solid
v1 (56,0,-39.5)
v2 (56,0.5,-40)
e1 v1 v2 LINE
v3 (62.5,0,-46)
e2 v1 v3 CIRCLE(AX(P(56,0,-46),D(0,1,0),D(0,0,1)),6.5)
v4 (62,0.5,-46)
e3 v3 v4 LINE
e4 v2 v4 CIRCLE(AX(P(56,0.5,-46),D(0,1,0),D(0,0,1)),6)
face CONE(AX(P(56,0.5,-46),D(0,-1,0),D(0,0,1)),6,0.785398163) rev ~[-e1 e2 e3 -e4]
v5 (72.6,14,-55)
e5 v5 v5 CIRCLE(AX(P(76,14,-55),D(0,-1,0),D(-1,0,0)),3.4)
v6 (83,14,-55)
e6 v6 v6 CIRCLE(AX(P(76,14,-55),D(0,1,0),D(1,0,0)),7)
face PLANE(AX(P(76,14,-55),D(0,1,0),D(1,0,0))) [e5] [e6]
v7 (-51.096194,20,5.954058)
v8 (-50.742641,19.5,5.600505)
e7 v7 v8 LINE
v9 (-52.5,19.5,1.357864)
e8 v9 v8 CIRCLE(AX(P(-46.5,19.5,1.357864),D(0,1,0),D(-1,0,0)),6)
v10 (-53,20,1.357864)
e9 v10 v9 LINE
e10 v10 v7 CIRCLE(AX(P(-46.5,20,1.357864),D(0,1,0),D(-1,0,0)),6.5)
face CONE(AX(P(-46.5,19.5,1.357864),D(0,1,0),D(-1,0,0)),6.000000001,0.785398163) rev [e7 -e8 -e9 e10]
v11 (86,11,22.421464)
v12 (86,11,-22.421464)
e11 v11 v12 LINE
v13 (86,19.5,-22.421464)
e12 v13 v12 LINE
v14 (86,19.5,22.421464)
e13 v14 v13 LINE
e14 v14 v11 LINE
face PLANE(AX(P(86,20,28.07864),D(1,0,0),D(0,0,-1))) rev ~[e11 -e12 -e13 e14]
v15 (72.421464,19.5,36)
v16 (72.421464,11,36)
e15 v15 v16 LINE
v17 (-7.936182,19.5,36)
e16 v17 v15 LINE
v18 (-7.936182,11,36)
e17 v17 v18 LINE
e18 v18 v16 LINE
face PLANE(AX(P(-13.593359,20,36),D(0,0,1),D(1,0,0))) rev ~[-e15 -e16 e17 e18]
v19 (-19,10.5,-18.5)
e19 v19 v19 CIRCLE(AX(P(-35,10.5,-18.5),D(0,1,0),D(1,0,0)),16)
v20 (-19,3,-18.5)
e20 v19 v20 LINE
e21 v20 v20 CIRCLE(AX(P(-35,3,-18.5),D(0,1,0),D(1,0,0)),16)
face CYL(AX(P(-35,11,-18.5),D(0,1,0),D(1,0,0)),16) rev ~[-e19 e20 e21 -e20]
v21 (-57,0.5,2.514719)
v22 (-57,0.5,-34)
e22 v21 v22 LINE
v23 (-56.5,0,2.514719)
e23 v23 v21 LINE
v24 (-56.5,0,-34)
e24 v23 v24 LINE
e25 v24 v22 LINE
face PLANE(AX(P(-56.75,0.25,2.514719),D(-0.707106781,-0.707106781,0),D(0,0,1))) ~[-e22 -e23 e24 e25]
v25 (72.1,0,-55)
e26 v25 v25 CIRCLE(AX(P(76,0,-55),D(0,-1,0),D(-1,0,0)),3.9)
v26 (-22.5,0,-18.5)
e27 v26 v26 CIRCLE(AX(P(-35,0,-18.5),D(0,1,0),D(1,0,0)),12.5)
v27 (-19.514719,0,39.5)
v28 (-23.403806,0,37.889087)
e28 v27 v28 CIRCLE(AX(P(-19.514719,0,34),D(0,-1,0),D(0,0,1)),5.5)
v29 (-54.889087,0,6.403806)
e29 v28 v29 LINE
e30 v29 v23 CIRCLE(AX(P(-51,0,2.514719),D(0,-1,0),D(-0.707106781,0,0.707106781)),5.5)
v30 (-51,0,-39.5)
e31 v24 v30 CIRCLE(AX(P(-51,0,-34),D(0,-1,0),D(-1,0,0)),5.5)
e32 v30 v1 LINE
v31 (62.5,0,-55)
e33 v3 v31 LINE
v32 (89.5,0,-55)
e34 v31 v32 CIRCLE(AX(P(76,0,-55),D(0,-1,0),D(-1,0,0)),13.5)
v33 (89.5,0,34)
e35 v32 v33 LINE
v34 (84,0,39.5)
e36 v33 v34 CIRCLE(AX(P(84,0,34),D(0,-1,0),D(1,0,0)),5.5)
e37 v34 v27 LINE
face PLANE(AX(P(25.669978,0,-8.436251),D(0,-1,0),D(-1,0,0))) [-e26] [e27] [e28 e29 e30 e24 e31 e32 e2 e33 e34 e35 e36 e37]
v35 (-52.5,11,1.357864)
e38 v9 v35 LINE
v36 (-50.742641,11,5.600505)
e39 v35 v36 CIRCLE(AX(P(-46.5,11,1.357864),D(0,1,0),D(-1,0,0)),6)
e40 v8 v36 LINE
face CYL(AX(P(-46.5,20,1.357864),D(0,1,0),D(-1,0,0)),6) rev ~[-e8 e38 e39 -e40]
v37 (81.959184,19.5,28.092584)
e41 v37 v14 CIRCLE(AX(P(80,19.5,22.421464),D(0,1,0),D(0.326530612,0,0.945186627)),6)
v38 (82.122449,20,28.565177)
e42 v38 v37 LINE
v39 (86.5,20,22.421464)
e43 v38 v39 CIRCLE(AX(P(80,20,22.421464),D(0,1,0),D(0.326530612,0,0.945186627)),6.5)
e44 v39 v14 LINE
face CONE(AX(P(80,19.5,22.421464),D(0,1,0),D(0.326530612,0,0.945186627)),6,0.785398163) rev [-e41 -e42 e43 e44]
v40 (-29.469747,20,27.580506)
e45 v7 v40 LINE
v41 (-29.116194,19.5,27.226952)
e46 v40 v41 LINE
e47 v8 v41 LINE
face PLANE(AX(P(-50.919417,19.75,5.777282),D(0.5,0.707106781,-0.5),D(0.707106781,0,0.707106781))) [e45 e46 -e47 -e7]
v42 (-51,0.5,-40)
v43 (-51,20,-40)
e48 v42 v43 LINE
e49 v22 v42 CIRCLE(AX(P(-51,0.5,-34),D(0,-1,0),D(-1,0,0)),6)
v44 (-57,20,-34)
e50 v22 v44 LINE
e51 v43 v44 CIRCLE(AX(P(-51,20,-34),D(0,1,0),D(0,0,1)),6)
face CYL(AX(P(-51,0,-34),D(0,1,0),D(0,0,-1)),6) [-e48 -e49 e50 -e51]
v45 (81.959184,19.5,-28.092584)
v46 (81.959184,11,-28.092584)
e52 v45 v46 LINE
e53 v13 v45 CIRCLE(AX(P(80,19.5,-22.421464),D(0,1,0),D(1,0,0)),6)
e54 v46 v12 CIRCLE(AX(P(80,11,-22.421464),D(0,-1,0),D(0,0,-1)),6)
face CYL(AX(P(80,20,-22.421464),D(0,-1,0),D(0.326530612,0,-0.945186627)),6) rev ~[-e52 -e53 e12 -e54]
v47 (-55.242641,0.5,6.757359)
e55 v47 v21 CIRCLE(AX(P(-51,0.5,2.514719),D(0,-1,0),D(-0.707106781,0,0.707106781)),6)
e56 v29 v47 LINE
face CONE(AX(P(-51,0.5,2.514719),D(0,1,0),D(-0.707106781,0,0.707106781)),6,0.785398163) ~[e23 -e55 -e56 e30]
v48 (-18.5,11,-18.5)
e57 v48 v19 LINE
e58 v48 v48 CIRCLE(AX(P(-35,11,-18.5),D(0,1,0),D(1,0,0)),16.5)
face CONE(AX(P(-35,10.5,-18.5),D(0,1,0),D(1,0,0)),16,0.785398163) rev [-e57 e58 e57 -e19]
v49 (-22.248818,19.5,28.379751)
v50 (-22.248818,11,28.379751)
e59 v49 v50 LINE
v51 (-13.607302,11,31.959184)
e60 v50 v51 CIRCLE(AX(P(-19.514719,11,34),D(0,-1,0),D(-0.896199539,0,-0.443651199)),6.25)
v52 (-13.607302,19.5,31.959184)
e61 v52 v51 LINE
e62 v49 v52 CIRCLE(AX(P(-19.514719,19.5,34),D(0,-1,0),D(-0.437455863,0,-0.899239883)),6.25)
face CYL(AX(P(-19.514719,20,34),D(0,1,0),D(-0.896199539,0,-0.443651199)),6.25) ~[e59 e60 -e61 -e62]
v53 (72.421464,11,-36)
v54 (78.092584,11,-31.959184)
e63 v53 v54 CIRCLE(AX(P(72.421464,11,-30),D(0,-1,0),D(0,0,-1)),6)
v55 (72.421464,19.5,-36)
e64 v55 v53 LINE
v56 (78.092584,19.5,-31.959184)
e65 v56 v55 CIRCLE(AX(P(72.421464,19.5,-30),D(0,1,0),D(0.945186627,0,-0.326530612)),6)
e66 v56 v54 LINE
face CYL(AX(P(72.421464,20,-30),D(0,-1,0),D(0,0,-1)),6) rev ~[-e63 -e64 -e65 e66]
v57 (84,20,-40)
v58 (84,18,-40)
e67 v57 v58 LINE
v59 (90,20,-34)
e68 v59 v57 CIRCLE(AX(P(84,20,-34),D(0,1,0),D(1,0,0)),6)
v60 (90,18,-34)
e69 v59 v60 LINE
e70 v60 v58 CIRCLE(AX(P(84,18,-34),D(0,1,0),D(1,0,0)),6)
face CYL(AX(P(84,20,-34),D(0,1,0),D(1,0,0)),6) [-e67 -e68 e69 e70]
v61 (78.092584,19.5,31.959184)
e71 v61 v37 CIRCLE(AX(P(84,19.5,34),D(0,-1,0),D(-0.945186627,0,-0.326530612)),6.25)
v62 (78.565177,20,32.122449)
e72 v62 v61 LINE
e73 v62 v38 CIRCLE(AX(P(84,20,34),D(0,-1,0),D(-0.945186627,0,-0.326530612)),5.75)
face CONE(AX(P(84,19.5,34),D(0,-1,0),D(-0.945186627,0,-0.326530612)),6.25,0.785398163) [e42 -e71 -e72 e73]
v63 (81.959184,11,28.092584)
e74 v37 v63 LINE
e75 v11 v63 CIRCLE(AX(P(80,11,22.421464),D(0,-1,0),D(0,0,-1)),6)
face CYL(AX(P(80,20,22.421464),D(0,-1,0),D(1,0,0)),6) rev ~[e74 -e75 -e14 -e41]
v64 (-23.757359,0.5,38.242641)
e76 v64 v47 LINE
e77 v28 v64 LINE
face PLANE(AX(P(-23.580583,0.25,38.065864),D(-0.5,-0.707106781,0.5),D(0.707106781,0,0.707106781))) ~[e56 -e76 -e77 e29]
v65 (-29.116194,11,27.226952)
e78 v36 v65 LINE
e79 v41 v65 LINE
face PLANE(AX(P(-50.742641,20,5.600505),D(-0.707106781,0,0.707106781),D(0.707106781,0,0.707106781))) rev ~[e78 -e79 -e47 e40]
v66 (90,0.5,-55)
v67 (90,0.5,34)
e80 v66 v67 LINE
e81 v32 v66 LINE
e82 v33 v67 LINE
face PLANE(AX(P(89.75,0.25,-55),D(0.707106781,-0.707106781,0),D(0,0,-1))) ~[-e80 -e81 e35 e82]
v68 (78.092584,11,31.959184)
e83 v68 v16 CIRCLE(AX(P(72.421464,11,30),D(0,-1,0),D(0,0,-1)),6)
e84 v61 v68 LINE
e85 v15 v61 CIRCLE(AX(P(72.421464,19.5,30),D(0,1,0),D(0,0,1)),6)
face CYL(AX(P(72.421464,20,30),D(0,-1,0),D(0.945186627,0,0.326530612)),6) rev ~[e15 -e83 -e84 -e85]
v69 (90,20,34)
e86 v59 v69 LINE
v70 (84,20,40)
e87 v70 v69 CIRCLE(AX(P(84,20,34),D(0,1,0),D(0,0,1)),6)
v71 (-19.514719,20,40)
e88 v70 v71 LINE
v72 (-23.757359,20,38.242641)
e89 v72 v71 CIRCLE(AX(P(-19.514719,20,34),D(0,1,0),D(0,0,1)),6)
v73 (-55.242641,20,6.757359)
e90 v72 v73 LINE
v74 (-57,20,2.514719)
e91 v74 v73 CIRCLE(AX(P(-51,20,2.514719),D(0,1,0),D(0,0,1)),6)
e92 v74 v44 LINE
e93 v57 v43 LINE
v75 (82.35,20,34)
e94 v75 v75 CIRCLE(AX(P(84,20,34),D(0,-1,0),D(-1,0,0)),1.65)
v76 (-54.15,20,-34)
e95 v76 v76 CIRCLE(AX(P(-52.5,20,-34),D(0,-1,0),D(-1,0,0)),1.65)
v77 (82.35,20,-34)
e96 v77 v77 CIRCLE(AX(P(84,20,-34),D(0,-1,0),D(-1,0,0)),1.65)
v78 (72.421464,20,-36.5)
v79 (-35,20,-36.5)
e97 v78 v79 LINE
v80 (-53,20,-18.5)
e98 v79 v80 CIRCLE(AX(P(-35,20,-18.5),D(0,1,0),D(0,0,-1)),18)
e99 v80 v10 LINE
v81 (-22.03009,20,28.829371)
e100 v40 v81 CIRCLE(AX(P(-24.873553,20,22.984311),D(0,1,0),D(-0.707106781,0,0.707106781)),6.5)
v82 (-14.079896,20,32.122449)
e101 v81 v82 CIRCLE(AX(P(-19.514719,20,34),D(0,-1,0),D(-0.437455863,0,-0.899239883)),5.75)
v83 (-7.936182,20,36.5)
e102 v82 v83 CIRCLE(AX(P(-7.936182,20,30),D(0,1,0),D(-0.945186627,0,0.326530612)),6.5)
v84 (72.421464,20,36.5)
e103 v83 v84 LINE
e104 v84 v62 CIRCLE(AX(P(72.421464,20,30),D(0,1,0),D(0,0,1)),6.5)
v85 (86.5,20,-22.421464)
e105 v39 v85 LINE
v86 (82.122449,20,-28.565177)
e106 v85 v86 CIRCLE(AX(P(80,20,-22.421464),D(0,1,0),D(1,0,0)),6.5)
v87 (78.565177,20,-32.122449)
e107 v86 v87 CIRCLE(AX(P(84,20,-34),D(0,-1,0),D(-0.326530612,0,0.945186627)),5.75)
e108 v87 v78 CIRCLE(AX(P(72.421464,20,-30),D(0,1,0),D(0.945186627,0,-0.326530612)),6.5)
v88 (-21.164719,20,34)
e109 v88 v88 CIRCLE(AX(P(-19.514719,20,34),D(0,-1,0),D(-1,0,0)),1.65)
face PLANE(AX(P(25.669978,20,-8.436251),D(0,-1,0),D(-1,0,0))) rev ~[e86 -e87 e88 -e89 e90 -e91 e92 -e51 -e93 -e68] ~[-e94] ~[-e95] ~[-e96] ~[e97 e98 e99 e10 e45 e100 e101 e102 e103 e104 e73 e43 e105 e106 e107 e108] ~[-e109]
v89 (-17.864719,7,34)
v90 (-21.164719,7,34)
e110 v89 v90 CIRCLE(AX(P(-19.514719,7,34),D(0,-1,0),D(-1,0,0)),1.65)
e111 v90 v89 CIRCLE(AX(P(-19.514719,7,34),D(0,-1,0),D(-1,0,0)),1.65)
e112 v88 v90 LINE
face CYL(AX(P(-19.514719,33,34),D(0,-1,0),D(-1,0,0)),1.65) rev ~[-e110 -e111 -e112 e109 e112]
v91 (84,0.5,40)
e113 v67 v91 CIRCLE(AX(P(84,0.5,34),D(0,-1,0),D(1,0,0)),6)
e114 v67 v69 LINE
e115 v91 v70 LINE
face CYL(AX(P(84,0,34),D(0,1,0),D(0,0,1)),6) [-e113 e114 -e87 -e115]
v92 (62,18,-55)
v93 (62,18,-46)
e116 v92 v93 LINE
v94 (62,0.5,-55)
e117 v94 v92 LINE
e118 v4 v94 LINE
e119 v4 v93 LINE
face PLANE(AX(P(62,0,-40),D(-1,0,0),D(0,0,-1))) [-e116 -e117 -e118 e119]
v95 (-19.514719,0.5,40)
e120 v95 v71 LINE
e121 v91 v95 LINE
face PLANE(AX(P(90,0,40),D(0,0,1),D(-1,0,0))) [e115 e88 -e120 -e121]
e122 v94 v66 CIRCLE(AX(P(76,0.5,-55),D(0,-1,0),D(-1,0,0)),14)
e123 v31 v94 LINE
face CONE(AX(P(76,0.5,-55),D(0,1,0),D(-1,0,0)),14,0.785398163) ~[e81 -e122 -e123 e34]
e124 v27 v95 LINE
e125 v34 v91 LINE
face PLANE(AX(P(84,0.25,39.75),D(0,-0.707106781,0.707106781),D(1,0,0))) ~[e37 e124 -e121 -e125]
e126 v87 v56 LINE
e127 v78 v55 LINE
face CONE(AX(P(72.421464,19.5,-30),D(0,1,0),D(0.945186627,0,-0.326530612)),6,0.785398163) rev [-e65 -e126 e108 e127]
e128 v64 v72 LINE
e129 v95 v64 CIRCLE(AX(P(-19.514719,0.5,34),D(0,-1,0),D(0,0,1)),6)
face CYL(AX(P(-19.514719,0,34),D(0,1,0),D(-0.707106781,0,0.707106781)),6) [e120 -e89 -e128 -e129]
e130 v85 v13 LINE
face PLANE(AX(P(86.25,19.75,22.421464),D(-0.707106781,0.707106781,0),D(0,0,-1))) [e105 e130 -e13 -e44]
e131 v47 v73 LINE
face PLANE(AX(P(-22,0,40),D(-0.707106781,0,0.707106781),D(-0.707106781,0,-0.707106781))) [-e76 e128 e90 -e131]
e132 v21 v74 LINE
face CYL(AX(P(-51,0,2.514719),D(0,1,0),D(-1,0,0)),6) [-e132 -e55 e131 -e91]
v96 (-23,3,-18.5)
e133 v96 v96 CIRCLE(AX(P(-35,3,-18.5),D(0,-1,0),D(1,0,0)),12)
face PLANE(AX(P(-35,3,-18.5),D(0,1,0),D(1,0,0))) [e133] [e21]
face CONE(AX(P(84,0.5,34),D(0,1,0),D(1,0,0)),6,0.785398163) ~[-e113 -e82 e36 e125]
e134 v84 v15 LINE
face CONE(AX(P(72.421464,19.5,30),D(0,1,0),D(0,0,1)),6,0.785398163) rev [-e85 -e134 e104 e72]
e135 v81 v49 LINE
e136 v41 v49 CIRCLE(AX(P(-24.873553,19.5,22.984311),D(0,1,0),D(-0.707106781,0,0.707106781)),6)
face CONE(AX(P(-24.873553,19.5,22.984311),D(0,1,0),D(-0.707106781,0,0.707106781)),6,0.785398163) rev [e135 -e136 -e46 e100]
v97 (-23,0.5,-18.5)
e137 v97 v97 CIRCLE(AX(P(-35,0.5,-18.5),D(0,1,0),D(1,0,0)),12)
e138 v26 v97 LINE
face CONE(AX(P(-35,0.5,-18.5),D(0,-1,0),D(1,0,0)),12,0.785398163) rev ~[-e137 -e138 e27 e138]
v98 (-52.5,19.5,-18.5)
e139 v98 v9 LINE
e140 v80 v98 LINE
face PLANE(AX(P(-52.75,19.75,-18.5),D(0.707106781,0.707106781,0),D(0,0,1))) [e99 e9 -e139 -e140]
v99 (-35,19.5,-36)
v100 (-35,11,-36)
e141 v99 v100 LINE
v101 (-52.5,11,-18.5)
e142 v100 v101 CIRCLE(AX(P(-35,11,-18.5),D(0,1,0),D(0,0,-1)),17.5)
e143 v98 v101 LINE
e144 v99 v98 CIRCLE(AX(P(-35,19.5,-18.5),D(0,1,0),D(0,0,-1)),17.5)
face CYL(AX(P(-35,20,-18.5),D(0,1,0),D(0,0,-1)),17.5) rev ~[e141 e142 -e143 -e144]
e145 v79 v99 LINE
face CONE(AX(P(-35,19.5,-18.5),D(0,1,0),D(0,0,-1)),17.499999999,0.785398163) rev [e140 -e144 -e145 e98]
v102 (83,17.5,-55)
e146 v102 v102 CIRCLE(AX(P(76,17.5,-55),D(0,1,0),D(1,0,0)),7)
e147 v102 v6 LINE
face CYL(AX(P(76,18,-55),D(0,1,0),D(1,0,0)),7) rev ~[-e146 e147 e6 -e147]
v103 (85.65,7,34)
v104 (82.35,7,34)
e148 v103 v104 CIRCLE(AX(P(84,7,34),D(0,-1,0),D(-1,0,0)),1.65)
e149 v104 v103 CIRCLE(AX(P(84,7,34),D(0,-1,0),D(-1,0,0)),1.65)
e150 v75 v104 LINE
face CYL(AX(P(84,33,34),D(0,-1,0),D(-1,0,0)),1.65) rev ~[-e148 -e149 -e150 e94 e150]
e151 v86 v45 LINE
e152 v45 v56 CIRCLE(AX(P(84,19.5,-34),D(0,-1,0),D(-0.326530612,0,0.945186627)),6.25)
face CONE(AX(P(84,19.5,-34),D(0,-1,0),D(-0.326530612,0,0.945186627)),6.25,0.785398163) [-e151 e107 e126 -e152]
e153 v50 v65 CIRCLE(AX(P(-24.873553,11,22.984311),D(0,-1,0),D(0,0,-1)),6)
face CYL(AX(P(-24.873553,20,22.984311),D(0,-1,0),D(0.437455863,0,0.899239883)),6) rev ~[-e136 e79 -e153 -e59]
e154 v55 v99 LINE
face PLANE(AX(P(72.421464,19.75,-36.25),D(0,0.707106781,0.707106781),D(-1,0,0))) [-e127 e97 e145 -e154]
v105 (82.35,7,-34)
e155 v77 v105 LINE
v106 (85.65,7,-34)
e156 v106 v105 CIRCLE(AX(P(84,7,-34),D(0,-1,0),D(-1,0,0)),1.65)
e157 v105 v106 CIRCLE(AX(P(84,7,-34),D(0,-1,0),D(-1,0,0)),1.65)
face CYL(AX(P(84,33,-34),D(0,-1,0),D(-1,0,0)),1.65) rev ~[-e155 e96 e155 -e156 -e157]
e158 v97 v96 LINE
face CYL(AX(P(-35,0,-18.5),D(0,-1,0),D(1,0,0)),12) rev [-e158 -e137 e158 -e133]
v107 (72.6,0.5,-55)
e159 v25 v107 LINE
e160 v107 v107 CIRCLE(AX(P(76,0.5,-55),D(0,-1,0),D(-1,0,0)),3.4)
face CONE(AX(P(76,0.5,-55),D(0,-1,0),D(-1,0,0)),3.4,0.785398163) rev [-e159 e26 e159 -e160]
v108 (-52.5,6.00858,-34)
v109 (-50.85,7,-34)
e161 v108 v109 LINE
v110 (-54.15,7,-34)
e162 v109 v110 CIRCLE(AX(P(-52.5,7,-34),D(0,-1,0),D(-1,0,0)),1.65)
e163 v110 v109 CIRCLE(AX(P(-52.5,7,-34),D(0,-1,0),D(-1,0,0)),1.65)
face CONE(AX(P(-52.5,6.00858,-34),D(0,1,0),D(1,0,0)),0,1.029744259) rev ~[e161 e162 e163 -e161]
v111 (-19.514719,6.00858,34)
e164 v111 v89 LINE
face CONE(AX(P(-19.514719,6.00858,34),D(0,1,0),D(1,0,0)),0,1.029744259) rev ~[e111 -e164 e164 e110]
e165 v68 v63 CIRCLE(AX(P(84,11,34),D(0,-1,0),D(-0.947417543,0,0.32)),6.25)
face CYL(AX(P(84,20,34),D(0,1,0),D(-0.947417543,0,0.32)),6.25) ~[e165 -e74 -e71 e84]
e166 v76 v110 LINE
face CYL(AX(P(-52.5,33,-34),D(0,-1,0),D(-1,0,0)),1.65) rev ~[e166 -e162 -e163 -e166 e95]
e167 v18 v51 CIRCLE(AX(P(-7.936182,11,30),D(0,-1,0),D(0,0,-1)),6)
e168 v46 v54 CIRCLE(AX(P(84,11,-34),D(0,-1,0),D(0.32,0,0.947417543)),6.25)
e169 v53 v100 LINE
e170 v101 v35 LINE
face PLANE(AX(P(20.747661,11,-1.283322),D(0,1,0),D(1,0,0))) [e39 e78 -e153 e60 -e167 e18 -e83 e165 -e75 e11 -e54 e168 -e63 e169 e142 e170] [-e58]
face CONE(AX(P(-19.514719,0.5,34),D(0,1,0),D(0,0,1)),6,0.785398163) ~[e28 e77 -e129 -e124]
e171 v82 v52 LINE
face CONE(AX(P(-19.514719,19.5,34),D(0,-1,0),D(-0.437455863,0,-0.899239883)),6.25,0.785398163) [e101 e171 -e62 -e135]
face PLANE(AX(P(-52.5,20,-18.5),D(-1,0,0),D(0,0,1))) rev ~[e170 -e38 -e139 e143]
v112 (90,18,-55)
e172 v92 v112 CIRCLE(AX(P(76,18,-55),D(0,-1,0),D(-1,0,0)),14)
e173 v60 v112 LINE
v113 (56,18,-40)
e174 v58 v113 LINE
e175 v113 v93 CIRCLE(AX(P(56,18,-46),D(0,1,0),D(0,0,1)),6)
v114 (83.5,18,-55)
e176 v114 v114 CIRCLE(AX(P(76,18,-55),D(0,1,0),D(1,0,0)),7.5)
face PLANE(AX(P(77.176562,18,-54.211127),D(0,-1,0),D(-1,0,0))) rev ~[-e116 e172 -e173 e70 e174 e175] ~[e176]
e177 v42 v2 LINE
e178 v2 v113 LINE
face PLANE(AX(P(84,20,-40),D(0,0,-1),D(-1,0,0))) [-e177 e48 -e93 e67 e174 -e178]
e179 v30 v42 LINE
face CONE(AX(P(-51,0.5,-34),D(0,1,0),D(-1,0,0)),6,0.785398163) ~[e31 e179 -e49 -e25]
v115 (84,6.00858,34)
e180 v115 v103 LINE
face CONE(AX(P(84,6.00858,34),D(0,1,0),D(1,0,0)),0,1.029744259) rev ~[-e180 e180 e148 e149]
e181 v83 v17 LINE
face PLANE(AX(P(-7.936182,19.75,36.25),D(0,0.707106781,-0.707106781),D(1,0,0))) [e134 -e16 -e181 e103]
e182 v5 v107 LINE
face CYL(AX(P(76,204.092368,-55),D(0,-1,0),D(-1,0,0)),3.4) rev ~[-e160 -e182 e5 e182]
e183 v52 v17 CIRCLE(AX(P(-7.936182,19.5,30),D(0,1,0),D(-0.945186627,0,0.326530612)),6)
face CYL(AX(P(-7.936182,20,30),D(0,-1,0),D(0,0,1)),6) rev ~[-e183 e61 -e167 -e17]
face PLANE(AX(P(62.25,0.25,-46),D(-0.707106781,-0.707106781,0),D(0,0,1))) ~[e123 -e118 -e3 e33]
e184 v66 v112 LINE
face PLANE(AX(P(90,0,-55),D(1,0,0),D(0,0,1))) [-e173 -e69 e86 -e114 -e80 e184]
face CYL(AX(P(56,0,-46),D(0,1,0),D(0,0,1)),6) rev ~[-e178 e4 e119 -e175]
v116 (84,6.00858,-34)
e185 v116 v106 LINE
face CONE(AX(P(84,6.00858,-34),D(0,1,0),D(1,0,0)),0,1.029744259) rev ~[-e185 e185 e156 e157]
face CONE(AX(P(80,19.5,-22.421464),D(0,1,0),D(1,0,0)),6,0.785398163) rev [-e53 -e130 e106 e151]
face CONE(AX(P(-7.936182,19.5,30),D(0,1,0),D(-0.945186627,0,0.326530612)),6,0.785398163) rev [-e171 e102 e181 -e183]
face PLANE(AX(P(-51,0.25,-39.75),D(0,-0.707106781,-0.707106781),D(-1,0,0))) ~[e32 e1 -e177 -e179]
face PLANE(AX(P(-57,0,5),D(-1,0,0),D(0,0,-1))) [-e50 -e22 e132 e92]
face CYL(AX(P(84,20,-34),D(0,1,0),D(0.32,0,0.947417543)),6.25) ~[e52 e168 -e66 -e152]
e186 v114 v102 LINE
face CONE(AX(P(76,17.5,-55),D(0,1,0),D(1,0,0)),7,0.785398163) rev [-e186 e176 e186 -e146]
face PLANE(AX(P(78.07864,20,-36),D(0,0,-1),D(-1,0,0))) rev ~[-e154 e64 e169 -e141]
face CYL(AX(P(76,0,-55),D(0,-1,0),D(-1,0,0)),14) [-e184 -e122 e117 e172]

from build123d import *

# Parameters (mm, degrees)
SKETCH2_R                   = 12
BOSS_EXTRUDE1_DEPTH         = 20
FILLET1_R                   = 6
TAP_DRILL_FOR_M4_TAP1_D     = 3.3
TAP_DRILL_FOR_M4_TAP1_DEPTH = 13
TAP_DRILL_FOR_M4_TAP1_TIP   = 0.991420021
CUT_EXTRUDE4_DEPTH          = 9
FILLET2_R                   = 6
SKETCH8_R                   = 16
CUT_EXTRUDE5_DEPTH          = 8
TAP_DRILL_FOR_M8_TAP1_D     = 6.8
CUT_EXTRUDE6_DEPTH          = 2
SKETCH13_R                  = 7
CUT_EXTRUDE7_DEPTH          = 4
CHAMFER1_SIZE               = 0.5
CHAMFER2_SIZE               = 0.5


with BuildPart() as part:
    # Sketch2 → Boss-Extrude1 (new body)
    with BuildSketch(Plane(origin=(0, 0, 0), x_dir=(1, 0, 0), z_dir=(0, 1, 0))):
        with BuildLine():
            Line((-57, 40), (62, 40))
            Line((62, 40), (62, 55))
            ThreePointArc((62, 55), (76, 69), (90, 55))
            Line((90, 55), (90, -40))
            Line((90, -40), (-22, -40))
            Line((-22, -40), (-57, -5))
            Line((-57, -5), (-57, 40))
        make_face()
        with Locations((-35, 18.5)):
            Circle(SKETCH2_R, mode=Mode.SUBTRACT)
    extrude(amount=BOSS_EXTRUDE1_DEPTH)

    # Fillet1
    fillet1_edges = [part.edges().sort_by_distance(p)[0] for p in [
        (90, 10, 40),
        (-22, 10, 40),
        (-57, 10, 5),
        (-57, 10, -40),
        (62, 10, -40),
    ]]
    fillet(fillet1_edges, radius=FILLET1_R)

    # Tap Drill for M4 Tap1
    with Locations(Plane(origin=(0, 20, 0), x_dir=(1, 0, 0), z_dir=(0, 1, 0))):
        with Locations((-19.514718626, -34), (-52.5, 34), (84, -34), (84, 34)):
            Hole(TAP_DRILL_FOR_M4_TAP1_D / 2, depth=TAP_DRILL_FOR_M4_TAP1_DEPTH)
            with Locations((0, 0, -(TAP_DRILL_FOR_M4_TAP1_DEPTH + TAP_DRILL_FOR_M4_TAP1_TIP / 2))):  # 118° drill point
                Cone(0, TAP_DRILL_FOR_M4_TAP1_D / 2, TAP_DRILL_FOR_M4_TAP1_TIP, mode=Mode.SUBTRACT)

    # Sketch7 → Cut-Extrude4 (cut)
    with BuildSketch(Plane(origin=(0, 20, 0), x_dir=(1, 0, 0), z_dir=(0, 1, 0))):
        with BuildLine():
            Line((-52.5, 18.5), (-52.5, -1.357864376))
            ThreePointArc((-52.5, -1.357864376), (-52.043277195, -3.65396497), (-50.742640687, -5.600505063))
            Line((-50.742640687, -5.600505063), (-25.115965744, -31.227180006))
            ThreePointArc((-25.115965744, -31.227180006), (-17.122947173, -28.225752922), (-13.593358985, -36))
            Line((-13.593358985, -36), (78.078640359, -36))
            ThreePointArc((78.078640359, -36), (79.580582618, -29.580582618), (86, -28.078640359))
            Line((86, -28.078640359), (86, 28.078640359))
            ThreePointArc((86, 28.078640359), (79.580582618, 29.580582618), (78.078640359, 36))
            Line((78.078640359, 36), (-35, 36))
            ThreePointArc((-35, 36), (-47.374368671, 30.874368671), (-52.5, 18.5))
        make_face()
    extrude(amount=-CUT_EXTRUDE4_DEPTH, mode=Mode.SUBTRACT)

    # Fillet2
    fillet2_edges = [part.edges().sort_by_distance(p)[0] for p in [
        (86, 15.5, 28.078640359),
        (78.078640359, 15.5, 36),
        (-13.593358985, 15.5, 36),
        (-25.115965744, 15.5, 31.227180006),
        (78.078640359, 15.5, -36),
        (86, 15.5, -28.078640359),
    ]]
    fillet(fillet2_edges, radius=FILLET2_R)

    # Sketch8 → Cut-Extrude5 (cut)
    with BuildSketch(Plane(origin=(0, 11, 0), x_dir=(1, 0, 0), z_dir=(0, 1, 0))):
        with Locations((-35, 18.5)):
            Circle(SKETCH8_R)
    extrude(amount=-CUT_EXTRUDE5_DEPTH, mode=Mode.SUBTRACT)

    # Tap Drill for M8 Tap1 (through all)
    with Locations(Plane(origin=(0, 20, 0), x_dir=(1, 0, 0), z_dir=(0, 1, 0))):
        with Locations((76, 55)):
            Hole(TAP_DRILL_FOR_M8_TAP1_D / 2)

    # Sketch12 → Cut-Extrude6 (cut)
    with BuildSketch(Plane(origin=(0, 20, 0), x_dir=(1, 0, 0), z_dir=(0, 1, 0))):
        with BuildLine():
            Line((84, 40), (50.858800106, 40))
            Line((50.858800106, 40), (50.858800106, 55))
            ThreePointArc((50.858800106, 55), (76, 80.141199894), (101.141199894, 55))
            Line((101.141199894, 55), (101.141199894, 34))
            Line((101.141199894, 34), (90, 34))
            ThreePointArc((90, 34), (88.242640687, 38.242640687), (84, 40))
        make_face()
    extrude(amount=-CUT_EXTRUDE6_DEPTH, mode=Mode.SUBTRACT)

    # Sketch13 → Cut-Extrude7 (cut)
    with BuildSketch(Plane(origin=(0, 18, 0), x_dir=(1, 0, 0), z_dir=(0, 1, 0))):
        with Locations((76, 55)):
            Circle(SKETCH13_R)
    extrude(amount=-CUT_EXTRUDE7_DEPTH, mode=Mode.SUBTRACT)

    # Chamfer1
    chamfer1_edges = [part.edges().sort_by_distance(p)[0] for p in [
        (62, 0, -50.5),
        (76, 0, -69),
        (90, 0, -10.5),
        (-47, 0, -18.5),
        (79.4, 0, -55),
        (32.242640687, 0, 40),
        (-39.5, 0, 22.5),
        (-57, 0, -15.742640687),
        (2.5, 0, -40),
        (88.242640687, 0, 38.242640687),
        (-55.242640687, 0, -38.242640687),
        (-56.543277195, 0, 4.81081922),
        (-21.81081922, 0, 39.543277195),
        (60.242640687, 0, -41.757359313),
    ]]
    chamfer(chamfer1_edges, length=CHAMFER1_SIZE)

    # Chamfer2
    chamfer2_edges = [part.edges().sort_by_distance(p)[0] for p in [
        (-17.122947173, 20, 28.225752922),
        (32.242640687, 20, 36),
        (79.580582618, 20, -29.580582618),
        (86, 20, 0),
        (18.710731912, 20, -36),
        (79.580582618, 20, 29.580582618),
        (-25.866850849, 20, 28.901520169),
        (-11.417913194, 20, 34.886466108),
        (84.886466108, 20, -25.903194568),
        (75.903194568, 20, -34.886466108),
        (84.886466108, 20, 25.903194568),
        (75.903194568, 20, 34.886466108),
        (-51, 11, -18.5),
        (69, 18, -55),
        (-47.374368671, 20, -30.874368671),
        (-52.5, 20, -8.571067812),
        (-52.043277195, 20, 3.65396497),
        (-39.929417161, 20, 16.413728589),
    ]]
    chamfer(chamfer2_edges, length=CHAMFER2_SIZE)


solid = part.part
